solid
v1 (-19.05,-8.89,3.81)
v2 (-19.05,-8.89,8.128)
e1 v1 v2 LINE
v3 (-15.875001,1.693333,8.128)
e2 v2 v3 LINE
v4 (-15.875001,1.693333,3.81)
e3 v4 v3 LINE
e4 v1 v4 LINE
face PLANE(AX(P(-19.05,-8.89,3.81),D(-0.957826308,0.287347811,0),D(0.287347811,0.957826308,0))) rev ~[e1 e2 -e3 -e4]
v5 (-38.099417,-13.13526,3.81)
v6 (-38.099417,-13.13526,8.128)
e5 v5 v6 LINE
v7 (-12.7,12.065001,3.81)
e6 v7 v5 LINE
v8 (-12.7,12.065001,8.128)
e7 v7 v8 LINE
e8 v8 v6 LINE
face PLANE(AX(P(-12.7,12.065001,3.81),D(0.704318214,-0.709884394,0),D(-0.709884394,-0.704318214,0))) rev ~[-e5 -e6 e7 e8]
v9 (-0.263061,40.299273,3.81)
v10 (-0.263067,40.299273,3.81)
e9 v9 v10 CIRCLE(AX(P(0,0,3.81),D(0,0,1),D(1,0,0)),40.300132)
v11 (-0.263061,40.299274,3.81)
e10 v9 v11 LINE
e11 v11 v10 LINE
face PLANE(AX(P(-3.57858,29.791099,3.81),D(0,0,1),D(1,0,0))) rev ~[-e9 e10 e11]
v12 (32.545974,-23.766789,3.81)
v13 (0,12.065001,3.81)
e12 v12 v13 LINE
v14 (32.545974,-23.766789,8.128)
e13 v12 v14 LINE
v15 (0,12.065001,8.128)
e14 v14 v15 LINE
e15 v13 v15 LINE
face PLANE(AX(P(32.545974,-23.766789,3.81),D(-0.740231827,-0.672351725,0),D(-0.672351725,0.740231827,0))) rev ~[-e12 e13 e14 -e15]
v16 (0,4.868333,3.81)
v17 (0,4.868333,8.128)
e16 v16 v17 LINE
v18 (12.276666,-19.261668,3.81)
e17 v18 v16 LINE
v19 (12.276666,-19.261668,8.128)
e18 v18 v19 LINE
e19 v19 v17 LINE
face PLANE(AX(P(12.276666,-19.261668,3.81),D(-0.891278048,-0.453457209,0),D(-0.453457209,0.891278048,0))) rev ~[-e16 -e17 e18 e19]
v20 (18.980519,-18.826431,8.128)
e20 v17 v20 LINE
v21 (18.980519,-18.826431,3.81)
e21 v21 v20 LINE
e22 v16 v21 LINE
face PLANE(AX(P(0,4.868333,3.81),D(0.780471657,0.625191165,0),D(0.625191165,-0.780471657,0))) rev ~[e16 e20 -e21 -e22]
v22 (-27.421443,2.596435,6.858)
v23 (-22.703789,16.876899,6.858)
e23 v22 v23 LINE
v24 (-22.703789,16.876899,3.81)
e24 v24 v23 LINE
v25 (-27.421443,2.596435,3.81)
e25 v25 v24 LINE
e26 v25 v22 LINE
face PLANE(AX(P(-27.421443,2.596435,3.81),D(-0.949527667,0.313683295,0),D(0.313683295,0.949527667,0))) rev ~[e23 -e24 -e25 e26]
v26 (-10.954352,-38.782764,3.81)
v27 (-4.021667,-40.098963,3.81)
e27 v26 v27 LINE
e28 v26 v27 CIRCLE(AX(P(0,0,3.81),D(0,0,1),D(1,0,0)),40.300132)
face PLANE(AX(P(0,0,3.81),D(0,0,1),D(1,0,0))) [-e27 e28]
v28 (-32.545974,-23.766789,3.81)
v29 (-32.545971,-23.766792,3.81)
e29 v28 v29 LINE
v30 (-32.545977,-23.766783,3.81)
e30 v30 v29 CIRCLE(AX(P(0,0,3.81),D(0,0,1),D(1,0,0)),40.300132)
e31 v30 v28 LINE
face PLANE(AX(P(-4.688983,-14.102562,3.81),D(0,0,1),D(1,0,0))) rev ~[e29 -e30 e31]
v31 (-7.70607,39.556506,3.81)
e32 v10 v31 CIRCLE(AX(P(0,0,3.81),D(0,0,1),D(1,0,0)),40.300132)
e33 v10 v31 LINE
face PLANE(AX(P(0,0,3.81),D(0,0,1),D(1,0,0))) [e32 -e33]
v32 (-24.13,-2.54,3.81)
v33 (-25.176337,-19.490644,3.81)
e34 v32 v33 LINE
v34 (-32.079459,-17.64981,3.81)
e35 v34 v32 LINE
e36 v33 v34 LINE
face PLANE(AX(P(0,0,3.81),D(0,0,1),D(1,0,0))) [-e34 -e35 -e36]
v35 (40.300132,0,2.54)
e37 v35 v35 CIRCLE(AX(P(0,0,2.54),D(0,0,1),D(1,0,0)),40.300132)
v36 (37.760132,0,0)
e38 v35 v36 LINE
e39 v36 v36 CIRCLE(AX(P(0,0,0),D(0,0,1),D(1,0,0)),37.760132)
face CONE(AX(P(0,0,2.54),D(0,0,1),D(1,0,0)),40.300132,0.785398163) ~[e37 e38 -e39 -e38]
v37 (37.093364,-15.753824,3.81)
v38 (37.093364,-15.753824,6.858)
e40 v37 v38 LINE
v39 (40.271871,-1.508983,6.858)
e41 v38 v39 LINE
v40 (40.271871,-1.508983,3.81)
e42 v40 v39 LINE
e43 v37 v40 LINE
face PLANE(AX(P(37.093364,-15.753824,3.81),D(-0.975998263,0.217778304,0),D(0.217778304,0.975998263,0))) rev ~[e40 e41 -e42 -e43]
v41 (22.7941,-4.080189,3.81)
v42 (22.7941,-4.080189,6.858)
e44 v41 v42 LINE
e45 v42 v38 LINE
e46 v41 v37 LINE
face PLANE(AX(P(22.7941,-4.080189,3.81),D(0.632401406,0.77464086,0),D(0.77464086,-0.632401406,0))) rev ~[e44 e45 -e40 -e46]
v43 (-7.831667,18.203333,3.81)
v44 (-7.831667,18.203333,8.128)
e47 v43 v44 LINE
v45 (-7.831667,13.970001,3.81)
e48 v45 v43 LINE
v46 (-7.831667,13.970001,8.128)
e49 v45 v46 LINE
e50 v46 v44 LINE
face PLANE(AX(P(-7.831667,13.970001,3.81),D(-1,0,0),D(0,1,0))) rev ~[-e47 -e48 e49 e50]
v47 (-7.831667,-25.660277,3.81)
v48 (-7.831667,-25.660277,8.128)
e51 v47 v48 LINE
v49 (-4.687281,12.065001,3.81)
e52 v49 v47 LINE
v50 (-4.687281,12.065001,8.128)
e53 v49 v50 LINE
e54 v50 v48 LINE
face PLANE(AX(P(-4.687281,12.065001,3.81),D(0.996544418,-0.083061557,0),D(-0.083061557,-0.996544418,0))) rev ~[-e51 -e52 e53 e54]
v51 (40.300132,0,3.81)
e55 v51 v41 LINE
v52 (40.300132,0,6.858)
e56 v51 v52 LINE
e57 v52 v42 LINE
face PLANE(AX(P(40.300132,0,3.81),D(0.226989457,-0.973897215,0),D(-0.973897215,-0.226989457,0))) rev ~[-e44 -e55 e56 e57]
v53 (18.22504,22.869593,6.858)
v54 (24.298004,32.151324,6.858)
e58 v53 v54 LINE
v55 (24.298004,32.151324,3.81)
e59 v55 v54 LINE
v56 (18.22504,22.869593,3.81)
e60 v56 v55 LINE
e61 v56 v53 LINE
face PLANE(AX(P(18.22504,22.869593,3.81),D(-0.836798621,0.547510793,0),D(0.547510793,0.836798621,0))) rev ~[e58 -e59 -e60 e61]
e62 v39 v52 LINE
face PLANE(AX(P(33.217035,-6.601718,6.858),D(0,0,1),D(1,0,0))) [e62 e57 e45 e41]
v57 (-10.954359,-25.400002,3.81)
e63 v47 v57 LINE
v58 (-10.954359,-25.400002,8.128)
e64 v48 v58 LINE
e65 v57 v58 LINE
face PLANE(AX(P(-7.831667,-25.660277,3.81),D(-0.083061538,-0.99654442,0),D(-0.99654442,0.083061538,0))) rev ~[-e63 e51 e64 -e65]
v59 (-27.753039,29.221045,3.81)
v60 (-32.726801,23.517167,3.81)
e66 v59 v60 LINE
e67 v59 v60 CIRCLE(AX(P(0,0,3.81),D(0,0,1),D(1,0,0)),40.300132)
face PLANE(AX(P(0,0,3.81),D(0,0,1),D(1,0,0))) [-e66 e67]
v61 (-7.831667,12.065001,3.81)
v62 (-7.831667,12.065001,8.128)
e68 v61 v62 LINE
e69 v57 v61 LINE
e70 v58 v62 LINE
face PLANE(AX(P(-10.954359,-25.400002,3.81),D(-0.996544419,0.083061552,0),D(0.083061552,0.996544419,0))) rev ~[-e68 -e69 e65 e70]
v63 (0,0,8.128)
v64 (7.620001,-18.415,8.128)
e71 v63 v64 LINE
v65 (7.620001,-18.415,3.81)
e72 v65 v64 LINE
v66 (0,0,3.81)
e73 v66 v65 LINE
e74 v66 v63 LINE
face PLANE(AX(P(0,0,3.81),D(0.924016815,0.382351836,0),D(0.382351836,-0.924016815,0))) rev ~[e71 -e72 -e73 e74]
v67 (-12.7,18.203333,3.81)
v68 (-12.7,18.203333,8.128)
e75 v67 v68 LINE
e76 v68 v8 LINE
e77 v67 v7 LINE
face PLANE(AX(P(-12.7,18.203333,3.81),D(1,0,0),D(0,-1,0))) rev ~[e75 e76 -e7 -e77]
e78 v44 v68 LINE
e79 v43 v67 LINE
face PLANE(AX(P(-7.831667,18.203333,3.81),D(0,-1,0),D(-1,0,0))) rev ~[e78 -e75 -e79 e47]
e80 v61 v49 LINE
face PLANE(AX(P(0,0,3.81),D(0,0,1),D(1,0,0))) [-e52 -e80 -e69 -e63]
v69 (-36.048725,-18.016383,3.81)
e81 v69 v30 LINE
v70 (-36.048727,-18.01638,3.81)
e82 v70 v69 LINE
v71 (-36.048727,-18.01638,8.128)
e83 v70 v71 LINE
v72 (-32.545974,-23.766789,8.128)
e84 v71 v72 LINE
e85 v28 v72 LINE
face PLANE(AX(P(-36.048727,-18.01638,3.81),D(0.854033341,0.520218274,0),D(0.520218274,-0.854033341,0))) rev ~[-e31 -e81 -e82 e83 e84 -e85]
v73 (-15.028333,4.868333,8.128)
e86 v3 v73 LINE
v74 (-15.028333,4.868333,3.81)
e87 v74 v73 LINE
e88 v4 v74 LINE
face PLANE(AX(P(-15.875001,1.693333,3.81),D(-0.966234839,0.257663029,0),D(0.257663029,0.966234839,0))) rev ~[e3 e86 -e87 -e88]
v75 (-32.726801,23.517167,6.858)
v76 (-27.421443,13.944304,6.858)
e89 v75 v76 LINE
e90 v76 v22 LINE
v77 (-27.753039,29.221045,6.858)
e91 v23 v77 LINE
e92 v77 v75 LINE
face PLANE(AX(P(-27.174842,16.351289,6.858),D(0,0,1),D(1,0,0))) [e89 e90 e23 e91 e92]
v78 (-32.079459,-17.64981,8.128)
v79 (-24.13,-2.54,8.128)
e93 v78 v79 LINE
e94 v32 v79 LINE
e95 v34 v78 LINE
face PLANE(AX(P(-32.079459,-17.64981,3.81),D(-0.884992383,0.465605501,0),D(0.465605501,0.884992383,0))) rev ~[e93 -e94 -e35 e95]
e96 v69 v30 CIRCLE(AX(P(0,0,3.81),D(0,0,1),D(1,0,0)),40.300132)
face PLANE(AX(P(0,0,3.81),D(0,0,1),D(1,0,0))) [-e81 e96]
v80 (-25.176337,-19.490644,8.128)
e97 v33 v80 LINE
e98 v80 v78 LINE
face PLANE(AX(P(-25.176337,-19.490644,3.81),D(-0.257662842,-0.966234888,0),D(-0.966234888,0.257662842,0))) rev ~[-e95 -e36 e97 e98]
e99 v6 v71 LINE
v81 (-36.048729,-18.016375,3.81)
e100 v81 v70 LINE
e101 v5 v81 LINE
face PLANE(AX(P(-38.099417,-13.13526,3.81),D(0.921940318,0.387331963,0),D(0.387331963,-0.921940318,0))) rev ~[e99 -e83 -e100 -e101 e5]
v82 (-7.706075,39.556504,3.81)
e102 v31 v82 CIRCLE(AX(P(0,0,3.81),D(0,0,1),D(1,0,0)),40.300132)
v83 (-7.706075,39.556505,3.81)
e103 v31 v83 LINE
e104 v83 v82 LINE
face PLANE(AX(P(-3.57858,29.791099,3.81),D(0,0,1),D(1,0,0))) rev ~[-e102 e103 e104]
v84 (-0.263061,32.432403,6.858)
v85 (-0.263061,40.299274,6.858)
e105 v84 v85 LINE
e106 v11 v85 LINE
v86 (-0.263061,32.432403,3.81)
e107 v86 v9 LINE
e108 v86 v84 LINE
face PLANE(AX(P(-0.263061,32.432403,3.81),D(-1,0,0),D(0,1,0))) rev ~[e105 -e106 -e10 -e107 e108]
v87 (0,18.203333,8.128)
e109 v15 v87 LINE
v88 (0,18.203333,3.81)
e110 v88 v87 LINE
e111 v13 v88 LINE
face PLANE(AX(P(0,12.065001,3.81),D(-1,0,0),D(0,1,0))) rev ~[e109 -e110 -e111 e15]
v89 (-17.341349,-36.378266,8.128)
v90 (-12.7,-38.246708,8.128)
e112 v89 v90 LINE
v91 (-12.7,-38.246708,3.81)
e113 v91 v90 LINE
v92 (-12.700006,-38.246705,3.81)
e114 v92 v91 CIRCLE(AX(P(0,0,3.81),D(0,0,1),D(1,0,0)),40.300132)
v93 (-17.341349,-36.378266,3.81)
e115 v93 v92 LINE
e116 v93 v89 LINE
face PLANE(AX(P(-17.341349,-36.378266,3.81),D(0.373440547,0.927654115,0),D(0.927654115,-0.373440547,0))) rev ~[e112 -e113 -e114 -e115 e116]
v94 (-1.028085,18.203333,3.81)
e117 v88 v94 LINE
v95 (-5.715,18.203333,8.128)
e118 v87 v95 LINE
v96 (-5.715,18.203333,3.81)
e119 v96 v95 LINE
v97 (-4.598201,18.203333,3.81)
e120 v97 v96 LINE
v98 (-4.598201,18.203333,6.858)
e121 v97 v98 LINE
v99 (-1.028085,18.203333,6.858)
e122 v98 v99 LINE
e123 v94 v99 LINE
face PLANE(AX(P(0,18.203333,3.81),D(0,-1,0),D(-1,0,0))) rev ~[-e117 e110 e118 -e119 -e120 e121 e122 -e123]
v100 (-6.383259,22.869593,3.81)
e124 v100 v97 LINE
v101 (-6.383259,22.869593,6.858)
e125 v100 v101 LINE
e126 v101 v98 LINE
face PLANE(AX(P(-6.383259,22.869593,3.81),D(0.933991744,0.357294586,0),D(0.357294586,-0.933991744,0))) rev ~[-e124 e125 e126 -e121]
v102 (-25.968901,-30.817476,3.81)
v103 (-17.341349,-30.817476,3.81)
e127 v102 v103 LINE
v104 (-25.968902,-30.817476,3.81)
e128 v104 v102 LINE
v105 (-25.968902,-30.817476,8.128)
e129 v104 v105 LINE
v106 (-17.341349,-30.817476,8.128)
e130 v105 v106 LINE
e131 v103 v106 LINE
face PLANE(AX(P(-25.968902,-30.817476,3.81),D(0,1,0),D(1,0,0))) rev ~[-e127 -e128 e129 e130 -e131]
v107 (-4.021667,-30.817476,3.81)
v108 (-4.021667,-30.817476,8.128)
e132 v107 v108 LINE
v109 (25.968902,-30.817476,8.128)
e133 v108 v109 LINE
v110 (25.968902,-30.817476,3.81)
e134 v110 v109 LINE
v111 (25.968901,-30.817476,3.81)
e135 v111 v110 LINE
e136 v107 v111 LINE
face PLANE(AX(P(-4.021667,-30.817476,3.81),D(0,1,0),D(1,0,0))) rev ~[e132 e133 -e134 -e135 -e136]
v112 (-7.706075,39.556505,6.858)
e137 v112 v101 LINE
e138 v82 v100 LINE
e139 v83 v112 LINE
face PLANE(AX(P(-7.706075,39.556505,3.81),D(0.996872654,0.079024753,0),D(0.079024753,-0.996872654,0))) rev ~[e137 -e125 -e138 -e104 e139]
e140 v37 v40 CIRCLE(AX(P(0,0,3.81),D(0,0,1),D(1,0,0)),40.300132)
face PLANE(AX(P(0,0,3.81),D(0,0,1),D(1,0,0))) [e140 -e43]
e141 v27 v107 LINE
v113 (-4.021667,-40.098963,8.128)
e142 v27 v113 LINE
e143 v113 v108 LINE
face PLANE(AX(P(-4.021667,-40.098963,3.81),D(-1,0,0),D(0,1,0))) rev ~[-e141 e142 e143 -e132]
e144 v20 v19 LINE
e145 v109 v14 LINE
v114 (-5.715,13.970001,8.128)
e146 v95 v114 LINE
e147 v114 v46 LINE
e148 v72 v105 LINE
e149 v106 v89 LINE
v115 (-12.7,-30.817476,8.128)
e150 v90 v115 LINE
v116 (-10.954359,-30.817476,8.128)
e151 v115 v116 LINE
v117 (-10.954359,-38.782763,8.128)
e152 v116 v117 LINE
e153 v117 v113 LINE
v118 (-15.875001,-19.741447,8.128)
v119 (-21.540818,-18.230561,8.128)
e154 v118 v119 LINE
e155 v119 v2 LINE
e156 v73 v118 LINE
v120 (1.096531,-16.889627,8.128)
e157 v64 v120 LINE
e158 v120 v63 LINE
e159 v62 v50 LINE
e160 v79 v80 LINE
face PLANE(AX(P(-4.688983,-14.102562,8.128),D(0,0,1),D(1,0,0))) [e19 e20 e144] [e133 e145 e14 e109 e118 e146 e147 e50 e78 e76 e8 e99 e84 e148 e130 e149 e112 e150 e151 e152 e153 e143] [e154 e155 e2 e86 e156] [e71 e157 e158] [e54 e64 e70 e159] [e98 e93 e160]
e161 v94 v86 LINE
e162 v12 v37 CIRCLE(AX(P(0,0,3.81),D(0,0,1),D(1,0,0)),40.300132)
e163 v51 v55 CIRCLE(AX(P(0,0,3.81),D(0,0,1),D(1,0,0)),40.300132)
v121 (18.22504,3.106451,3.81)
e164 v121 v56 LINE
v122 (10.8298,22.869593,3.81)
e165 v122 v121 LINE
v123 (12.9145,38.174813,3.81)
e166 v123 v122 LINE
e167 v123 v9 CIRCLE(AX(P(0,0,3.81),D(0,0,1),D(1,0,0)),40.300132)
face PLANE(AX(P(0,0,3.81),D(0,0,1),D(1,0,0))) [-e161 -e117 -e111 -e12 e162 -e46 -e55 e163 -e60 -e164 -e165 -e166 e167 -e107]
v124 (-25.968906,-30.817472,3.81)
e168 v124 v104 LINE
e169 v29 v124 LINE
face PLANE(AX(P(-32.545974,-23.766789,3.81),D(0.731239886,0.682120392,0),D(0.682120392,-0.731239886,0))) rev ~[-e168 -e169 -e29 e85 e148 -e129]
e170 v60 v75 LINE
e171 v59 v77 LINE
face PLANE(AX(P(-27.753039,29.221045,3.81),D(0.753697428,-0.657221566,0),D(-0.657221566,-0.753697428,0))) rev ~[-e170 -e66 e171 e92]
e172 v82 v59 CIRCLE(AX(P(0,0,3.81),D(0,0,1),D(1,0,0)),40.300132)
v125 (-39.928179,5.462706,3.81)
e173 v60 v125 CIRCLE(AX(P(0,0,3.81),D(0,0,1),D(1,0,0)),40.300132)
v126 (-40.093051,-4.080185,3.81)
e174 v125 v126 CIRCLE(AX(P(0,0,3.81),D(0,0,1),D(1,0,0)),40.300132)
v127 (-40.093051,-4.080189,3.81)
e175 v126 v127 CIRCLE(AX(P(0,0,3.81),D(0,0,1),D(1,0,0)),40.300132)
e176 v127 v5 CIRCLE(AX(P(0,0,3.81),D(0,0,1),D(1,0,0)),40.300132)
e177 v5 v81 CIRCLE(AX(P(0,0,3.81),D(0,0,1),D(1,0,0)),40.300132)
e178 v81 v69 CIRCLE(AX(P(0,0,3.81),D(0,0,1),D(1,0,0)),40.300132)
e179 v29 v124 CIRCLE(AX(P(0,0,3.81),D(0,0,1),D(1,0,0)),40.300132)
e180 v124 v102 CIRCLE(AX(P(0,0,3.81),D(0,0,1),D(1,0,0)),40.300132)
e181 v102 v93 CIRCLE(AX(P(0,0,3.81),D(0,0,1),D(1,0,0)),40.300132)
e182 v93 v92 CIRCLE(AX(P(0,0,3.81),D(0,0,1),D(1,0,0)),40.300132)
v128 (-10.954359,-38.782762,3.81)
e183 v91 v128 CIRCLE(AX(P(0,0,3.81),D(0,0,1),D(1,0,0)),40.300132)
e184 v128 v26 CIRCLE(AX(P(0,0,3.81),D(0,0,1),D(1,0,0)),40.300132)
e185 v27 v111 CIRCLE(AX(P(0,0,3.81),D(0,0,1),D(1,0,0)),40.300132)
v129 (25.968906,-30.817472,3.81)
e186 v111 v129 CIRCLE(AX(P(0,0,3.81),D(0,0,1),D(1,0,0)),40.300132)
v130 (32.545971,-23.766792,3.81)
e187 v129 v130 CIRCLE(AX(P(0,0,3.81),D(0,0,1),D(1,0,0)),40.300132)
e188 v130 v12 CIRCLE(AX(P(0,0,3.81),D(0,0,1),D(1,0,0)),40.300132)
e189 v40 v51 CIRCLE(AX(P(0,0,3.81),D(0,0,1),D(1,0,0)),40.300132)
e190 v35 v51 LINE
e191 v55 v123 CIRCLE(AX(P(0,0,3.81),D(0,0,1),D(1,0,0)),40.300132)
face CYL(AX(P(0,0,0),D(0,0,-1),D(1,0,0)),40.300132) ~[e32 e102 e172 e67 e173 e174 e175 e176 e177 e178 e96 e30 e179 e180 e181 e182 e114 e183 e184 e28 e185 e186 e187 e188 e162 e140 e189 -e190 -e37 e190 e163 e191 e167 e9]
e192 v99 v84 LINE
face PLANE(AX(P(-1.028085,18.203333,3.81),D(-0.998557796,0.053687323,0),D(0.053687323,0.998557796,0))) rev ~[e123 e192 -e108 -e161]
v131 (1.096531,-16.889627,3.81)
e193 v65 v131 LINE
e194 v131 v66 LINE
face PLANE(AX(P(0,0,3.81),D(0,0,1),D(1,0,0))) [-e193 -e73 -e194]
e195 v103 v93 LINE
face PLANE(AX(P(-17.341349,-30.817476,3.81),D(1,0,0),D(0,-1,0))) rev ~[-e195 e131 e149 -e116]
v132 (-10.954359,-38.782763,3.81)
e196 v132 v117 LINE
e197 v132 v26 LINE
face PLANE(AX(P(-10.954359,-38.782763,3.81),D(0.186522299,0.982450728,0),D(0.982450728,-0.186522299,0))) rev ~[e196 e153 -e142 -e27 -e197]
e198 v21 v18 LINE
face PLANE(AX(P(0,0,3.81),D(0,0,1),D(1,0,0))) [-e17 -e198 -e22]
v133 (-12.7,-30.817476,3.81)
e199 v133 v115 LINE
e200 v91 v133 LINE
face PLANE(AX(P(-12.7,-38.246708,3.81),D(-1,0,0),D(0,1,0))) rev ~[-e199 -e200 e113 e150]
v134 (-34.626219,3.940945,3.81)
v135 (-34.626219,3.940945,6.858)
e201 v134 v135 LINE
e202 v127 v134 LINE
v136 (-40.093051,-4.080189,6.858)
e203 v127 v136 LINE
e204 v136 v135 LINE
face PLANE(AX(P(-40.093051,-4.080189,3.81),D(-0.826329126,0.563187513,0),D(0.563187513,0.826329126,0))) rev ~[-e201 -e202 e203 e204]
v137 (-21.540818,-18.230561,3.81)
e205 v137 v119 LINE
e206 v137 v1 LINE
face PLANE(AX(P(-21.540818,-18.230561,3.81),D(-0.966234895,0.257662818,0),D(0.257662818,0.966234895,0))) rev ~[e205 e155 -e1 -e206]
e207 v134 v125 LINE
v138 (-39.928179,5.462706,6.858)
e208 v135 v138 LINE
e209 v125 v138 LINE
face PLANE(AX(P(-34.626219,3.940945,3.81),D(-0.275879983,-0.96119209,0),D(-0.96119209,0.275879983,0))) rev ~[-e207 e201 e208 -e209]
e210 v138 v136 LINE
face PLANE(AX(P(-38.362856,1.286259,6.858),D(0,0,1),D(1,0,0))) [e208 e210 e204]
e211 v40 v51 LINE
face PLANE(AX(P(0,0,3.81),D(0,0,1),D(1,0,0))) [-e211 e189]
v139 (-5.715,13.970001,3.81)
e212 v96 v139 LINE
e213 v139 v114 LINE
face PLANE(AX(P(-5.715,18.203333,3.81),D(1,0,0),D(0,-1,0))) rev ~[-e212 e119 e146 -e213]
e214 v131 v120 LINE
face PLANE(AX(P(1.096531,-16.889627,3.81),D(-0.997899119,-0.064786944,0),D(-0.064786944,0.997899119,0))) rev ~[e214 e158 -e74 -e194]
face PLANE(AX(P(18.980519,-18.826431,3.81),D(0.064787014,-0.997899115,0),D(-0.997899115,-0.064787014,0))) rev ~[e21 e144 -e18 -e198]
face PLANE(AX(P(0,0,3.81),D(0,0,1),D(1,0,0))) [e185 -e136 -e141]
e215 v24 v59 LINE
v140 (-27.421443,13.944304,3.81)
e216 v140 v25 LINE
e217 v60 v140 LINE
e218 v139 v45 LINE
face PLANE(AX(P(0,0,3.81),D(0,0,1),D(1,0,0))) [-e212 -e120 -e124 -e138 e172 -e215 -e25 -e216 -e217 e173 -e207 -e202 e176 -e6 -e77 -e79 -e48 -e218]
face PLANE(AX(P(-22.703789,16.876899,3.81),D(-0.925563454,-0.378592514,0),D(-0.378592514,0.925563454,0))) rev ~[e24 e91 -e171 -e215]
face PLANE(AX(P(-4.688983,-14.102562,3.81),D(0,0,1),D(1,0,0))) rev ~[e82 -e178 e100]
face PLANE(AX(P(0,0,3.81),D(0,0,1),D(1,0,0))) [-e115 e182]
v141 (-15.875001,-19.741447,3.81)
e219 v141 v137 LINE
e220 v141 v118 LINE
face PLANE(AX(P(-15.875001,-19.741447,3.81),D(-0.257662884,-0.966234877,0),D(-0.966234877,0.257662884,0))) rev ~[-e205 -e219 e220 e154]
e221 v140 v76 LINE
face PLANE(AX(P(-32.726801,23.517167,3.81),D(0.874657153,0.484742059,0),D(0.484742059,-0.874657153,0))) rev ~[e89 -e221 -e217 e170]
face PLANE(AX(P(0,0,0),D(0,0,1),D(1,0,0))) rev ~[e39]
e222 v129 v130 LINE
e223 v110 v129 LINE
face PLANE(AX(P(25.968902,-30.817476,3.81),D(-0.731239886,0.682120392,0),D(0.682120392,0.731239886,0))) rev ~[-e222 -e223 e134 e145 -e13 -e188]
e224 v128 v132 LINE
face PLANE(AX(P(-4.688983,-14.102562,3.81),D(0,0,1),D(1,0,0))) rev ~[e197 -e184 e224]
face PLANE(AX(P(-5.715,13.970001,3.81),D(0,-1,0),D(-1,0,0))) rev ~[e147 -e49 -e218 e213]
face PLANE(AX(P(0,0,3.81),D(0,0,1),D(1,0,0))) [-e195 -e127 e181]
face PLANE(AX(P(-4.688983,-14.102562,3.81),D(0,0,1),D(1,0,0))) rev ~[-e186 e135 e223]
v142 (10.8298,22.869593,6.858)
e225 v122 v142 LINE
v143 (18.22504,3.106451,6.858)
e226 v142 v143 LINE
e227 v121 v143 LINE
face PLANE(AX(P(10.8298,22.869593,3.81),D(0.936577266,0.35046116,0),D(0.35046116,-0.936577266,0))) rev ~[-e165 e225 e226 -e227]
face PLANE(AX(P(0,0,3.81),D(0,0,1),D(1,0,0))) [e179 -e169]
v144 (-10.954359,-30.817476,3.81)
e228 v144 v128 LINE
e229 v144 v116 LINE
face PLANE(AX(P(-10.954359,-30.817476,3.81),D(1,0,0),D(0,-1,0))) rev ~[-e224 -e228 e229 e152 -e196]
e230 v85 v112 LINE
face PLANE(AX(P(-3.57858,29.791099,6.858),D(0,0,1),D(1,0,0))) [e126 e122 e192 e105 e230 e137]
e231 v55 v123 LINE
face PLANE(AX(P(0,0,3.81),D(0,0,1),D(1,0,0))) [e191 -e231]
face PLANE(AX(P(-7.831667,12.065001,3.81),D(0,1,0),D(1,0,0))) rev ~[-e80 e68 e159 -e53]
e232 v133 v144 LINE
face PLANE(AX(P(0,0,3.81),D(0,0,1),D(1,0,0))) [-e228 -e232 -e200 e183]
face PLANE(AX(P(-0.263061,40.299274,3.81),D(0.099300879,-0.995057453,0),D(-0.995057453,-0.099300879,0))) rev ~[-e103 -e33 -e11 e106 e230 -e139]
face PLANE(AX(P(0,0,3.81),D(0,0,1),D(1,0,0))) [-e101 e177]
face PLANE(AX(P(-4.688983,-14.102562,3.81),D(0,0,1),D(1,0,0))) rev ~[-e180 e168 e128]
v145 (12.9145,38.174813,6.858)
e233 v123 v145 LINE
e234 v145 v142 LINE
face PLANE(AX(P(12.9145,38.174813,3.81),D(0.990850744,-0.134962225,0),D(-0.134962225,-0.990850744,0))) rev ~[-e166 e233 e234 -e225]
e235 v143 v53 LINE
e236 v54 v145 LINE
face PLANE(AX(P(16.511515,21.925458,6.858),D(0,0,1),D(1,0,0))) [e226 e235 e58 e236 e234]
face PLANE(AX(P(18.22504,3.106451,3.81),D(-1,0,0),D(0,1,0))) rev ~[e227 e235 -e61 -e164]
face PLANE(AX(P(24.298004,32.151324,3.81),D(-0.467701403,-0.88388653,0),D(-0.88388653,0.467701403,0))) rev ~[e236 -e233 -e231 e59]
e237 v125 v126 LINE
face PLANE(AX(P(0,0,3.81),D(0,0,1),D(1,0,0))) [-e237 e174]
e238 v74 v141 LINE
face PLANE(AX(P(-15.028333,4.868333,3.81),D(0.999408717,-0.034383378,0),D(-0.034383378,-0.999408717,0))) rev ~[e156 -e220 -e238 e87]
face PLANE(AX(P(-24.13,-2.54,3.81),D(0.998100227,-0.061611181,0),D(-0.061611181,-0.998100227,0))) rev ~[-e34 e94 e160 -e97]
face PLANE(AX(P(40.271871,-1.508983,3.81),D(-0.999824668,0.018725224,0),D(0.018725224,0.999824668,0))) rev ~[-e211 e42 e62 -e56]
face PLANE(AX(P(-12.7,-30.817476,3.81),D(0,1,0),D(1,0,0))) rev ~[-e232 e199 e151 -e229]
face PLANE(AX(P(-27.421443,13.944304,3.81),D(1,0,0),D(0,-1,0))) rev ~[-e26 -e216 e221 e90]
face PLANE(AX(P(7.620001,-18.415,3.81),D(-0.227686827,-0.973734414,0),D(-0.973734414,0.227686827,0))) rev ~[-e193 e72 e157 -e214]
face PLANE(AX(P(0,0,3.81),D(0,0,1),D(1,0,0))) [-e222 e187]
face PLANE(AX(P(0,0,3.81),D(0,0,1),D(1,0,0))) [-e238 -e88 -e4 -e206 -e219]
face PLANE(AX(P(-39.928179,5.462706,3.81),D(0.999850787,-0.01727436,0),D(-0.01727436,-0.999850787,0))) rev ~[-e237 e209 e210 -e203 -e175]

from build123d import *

# Parameters (mm, degrees)
F0_R     = 40.300132
F1_DEPTH = 3.81
F3_DEPTH = 4.318
F5_DEPTH = 3.048
F6_SIZE  = 2.54


with BuildPart() as f1:
    # F0 (on Top) → F1 (new body)
    with BuildSketch(Plane.XY):
        Circle(F0_R)
    extrude(amount=F1_DEPTH)

    # F2 (on face) → F3 (join)
    with BuildSketch(Plane.XY.offset(3.81)):
        Polygon((-12.7, 12.065001), (-38.099417, -13.13526), (-36.048727, -18.01638), (-32.545974, -23.766789), (-25.968902, -30.817476), (-17.341349, -30.817476), (-17.341349, -36.378266), (-12.7, -38.246708), (-12.7, -30.817476), (-10.954359, -30.817476), (-10.954359, -38.782763), (-4.021667, -40.098963), (-4.021667, -30.817476), (25.968902, -30.817476), (32.545974, -23.766789), (0, 12.065001), (0, 18.203333), (-5.715, 18.203333), (-5.715, 13.970001), (-7.831667, 13.970001), (-7.831667, 18.203333), (-12.7, 18.203333), align=None)
        Polygon((-32.079459, -17.64981), (-24.13, -2.54), (-25.176337, -19.490644), align=None, mode=Mode.SUBTRACT)
        Polygon((-15.875001, 1.693333), (-15.028333, 4.868333), (-15.875001, -19.741447), (-21.540818, -18.230561), (-19.05, -8.89), align=None, mode=Mode.SUBTRACT)
        Polygon((-10.954359, -25.400002), (-7.831667, 12.065001), (-4.687281, 12.065001), (-7.831667, -25.660277), align=None, mode=Mode.SUBTRACT)
        Polygon((1.096531, -16.889627), (0, 0), (7.620001, -18.415), align=None, mode=Mode.SUBTRACT)
        Polygon((12.276666, -19.261668), (0, 4.868333), (18.980519, -18.826431), align=None, mode=Mode.SUBTRACT)
    extrude(amount=F3_DEPTH)

    # F4 (on face) → F5 (join)
    with BuildSketch(Plane.XY.offset(3.81)):
        Polygon((-27.753039, 29.221045), (-32.726801, 23.517167), (-27.421443, 13.944304), (-27.421443, 2.596435), (-22.703789, 16.876899), align=None)
        Polygon((-0.263061, 40.299274), (-7.706075, 39.556505), (-6.383259, 22.869593), (-4.598201, 18.203333), (-1.028085, 18.203333), (-0.263061, 32.432403), align=None)
        Polygon((24.298004, 32.151324), (12.9145, 38.174813), (10.8298, 22.869593), (18.22504, 3.106451), (18.22504, 22.869593), align=None)
        Polygon((-34.626219, 3.940945), (-39.928179, 5.462706), (-40.093051, -4.080189), align=None)
        Polygon((40.271871, -1.508983), (40.300132, 0), (22.7941, -4.080189), (37.093364, -15.753824), align=None)
    extrude(amount=F5_DEPTH)

    # F6
    f6_edges = [f1.edges().sort_by_distance(p)[0] for p in [
        (-40.300132, 0, 0),
    ]]
    chamfer(f6_edges, length=F6_SIZE)


solid = f1.part
